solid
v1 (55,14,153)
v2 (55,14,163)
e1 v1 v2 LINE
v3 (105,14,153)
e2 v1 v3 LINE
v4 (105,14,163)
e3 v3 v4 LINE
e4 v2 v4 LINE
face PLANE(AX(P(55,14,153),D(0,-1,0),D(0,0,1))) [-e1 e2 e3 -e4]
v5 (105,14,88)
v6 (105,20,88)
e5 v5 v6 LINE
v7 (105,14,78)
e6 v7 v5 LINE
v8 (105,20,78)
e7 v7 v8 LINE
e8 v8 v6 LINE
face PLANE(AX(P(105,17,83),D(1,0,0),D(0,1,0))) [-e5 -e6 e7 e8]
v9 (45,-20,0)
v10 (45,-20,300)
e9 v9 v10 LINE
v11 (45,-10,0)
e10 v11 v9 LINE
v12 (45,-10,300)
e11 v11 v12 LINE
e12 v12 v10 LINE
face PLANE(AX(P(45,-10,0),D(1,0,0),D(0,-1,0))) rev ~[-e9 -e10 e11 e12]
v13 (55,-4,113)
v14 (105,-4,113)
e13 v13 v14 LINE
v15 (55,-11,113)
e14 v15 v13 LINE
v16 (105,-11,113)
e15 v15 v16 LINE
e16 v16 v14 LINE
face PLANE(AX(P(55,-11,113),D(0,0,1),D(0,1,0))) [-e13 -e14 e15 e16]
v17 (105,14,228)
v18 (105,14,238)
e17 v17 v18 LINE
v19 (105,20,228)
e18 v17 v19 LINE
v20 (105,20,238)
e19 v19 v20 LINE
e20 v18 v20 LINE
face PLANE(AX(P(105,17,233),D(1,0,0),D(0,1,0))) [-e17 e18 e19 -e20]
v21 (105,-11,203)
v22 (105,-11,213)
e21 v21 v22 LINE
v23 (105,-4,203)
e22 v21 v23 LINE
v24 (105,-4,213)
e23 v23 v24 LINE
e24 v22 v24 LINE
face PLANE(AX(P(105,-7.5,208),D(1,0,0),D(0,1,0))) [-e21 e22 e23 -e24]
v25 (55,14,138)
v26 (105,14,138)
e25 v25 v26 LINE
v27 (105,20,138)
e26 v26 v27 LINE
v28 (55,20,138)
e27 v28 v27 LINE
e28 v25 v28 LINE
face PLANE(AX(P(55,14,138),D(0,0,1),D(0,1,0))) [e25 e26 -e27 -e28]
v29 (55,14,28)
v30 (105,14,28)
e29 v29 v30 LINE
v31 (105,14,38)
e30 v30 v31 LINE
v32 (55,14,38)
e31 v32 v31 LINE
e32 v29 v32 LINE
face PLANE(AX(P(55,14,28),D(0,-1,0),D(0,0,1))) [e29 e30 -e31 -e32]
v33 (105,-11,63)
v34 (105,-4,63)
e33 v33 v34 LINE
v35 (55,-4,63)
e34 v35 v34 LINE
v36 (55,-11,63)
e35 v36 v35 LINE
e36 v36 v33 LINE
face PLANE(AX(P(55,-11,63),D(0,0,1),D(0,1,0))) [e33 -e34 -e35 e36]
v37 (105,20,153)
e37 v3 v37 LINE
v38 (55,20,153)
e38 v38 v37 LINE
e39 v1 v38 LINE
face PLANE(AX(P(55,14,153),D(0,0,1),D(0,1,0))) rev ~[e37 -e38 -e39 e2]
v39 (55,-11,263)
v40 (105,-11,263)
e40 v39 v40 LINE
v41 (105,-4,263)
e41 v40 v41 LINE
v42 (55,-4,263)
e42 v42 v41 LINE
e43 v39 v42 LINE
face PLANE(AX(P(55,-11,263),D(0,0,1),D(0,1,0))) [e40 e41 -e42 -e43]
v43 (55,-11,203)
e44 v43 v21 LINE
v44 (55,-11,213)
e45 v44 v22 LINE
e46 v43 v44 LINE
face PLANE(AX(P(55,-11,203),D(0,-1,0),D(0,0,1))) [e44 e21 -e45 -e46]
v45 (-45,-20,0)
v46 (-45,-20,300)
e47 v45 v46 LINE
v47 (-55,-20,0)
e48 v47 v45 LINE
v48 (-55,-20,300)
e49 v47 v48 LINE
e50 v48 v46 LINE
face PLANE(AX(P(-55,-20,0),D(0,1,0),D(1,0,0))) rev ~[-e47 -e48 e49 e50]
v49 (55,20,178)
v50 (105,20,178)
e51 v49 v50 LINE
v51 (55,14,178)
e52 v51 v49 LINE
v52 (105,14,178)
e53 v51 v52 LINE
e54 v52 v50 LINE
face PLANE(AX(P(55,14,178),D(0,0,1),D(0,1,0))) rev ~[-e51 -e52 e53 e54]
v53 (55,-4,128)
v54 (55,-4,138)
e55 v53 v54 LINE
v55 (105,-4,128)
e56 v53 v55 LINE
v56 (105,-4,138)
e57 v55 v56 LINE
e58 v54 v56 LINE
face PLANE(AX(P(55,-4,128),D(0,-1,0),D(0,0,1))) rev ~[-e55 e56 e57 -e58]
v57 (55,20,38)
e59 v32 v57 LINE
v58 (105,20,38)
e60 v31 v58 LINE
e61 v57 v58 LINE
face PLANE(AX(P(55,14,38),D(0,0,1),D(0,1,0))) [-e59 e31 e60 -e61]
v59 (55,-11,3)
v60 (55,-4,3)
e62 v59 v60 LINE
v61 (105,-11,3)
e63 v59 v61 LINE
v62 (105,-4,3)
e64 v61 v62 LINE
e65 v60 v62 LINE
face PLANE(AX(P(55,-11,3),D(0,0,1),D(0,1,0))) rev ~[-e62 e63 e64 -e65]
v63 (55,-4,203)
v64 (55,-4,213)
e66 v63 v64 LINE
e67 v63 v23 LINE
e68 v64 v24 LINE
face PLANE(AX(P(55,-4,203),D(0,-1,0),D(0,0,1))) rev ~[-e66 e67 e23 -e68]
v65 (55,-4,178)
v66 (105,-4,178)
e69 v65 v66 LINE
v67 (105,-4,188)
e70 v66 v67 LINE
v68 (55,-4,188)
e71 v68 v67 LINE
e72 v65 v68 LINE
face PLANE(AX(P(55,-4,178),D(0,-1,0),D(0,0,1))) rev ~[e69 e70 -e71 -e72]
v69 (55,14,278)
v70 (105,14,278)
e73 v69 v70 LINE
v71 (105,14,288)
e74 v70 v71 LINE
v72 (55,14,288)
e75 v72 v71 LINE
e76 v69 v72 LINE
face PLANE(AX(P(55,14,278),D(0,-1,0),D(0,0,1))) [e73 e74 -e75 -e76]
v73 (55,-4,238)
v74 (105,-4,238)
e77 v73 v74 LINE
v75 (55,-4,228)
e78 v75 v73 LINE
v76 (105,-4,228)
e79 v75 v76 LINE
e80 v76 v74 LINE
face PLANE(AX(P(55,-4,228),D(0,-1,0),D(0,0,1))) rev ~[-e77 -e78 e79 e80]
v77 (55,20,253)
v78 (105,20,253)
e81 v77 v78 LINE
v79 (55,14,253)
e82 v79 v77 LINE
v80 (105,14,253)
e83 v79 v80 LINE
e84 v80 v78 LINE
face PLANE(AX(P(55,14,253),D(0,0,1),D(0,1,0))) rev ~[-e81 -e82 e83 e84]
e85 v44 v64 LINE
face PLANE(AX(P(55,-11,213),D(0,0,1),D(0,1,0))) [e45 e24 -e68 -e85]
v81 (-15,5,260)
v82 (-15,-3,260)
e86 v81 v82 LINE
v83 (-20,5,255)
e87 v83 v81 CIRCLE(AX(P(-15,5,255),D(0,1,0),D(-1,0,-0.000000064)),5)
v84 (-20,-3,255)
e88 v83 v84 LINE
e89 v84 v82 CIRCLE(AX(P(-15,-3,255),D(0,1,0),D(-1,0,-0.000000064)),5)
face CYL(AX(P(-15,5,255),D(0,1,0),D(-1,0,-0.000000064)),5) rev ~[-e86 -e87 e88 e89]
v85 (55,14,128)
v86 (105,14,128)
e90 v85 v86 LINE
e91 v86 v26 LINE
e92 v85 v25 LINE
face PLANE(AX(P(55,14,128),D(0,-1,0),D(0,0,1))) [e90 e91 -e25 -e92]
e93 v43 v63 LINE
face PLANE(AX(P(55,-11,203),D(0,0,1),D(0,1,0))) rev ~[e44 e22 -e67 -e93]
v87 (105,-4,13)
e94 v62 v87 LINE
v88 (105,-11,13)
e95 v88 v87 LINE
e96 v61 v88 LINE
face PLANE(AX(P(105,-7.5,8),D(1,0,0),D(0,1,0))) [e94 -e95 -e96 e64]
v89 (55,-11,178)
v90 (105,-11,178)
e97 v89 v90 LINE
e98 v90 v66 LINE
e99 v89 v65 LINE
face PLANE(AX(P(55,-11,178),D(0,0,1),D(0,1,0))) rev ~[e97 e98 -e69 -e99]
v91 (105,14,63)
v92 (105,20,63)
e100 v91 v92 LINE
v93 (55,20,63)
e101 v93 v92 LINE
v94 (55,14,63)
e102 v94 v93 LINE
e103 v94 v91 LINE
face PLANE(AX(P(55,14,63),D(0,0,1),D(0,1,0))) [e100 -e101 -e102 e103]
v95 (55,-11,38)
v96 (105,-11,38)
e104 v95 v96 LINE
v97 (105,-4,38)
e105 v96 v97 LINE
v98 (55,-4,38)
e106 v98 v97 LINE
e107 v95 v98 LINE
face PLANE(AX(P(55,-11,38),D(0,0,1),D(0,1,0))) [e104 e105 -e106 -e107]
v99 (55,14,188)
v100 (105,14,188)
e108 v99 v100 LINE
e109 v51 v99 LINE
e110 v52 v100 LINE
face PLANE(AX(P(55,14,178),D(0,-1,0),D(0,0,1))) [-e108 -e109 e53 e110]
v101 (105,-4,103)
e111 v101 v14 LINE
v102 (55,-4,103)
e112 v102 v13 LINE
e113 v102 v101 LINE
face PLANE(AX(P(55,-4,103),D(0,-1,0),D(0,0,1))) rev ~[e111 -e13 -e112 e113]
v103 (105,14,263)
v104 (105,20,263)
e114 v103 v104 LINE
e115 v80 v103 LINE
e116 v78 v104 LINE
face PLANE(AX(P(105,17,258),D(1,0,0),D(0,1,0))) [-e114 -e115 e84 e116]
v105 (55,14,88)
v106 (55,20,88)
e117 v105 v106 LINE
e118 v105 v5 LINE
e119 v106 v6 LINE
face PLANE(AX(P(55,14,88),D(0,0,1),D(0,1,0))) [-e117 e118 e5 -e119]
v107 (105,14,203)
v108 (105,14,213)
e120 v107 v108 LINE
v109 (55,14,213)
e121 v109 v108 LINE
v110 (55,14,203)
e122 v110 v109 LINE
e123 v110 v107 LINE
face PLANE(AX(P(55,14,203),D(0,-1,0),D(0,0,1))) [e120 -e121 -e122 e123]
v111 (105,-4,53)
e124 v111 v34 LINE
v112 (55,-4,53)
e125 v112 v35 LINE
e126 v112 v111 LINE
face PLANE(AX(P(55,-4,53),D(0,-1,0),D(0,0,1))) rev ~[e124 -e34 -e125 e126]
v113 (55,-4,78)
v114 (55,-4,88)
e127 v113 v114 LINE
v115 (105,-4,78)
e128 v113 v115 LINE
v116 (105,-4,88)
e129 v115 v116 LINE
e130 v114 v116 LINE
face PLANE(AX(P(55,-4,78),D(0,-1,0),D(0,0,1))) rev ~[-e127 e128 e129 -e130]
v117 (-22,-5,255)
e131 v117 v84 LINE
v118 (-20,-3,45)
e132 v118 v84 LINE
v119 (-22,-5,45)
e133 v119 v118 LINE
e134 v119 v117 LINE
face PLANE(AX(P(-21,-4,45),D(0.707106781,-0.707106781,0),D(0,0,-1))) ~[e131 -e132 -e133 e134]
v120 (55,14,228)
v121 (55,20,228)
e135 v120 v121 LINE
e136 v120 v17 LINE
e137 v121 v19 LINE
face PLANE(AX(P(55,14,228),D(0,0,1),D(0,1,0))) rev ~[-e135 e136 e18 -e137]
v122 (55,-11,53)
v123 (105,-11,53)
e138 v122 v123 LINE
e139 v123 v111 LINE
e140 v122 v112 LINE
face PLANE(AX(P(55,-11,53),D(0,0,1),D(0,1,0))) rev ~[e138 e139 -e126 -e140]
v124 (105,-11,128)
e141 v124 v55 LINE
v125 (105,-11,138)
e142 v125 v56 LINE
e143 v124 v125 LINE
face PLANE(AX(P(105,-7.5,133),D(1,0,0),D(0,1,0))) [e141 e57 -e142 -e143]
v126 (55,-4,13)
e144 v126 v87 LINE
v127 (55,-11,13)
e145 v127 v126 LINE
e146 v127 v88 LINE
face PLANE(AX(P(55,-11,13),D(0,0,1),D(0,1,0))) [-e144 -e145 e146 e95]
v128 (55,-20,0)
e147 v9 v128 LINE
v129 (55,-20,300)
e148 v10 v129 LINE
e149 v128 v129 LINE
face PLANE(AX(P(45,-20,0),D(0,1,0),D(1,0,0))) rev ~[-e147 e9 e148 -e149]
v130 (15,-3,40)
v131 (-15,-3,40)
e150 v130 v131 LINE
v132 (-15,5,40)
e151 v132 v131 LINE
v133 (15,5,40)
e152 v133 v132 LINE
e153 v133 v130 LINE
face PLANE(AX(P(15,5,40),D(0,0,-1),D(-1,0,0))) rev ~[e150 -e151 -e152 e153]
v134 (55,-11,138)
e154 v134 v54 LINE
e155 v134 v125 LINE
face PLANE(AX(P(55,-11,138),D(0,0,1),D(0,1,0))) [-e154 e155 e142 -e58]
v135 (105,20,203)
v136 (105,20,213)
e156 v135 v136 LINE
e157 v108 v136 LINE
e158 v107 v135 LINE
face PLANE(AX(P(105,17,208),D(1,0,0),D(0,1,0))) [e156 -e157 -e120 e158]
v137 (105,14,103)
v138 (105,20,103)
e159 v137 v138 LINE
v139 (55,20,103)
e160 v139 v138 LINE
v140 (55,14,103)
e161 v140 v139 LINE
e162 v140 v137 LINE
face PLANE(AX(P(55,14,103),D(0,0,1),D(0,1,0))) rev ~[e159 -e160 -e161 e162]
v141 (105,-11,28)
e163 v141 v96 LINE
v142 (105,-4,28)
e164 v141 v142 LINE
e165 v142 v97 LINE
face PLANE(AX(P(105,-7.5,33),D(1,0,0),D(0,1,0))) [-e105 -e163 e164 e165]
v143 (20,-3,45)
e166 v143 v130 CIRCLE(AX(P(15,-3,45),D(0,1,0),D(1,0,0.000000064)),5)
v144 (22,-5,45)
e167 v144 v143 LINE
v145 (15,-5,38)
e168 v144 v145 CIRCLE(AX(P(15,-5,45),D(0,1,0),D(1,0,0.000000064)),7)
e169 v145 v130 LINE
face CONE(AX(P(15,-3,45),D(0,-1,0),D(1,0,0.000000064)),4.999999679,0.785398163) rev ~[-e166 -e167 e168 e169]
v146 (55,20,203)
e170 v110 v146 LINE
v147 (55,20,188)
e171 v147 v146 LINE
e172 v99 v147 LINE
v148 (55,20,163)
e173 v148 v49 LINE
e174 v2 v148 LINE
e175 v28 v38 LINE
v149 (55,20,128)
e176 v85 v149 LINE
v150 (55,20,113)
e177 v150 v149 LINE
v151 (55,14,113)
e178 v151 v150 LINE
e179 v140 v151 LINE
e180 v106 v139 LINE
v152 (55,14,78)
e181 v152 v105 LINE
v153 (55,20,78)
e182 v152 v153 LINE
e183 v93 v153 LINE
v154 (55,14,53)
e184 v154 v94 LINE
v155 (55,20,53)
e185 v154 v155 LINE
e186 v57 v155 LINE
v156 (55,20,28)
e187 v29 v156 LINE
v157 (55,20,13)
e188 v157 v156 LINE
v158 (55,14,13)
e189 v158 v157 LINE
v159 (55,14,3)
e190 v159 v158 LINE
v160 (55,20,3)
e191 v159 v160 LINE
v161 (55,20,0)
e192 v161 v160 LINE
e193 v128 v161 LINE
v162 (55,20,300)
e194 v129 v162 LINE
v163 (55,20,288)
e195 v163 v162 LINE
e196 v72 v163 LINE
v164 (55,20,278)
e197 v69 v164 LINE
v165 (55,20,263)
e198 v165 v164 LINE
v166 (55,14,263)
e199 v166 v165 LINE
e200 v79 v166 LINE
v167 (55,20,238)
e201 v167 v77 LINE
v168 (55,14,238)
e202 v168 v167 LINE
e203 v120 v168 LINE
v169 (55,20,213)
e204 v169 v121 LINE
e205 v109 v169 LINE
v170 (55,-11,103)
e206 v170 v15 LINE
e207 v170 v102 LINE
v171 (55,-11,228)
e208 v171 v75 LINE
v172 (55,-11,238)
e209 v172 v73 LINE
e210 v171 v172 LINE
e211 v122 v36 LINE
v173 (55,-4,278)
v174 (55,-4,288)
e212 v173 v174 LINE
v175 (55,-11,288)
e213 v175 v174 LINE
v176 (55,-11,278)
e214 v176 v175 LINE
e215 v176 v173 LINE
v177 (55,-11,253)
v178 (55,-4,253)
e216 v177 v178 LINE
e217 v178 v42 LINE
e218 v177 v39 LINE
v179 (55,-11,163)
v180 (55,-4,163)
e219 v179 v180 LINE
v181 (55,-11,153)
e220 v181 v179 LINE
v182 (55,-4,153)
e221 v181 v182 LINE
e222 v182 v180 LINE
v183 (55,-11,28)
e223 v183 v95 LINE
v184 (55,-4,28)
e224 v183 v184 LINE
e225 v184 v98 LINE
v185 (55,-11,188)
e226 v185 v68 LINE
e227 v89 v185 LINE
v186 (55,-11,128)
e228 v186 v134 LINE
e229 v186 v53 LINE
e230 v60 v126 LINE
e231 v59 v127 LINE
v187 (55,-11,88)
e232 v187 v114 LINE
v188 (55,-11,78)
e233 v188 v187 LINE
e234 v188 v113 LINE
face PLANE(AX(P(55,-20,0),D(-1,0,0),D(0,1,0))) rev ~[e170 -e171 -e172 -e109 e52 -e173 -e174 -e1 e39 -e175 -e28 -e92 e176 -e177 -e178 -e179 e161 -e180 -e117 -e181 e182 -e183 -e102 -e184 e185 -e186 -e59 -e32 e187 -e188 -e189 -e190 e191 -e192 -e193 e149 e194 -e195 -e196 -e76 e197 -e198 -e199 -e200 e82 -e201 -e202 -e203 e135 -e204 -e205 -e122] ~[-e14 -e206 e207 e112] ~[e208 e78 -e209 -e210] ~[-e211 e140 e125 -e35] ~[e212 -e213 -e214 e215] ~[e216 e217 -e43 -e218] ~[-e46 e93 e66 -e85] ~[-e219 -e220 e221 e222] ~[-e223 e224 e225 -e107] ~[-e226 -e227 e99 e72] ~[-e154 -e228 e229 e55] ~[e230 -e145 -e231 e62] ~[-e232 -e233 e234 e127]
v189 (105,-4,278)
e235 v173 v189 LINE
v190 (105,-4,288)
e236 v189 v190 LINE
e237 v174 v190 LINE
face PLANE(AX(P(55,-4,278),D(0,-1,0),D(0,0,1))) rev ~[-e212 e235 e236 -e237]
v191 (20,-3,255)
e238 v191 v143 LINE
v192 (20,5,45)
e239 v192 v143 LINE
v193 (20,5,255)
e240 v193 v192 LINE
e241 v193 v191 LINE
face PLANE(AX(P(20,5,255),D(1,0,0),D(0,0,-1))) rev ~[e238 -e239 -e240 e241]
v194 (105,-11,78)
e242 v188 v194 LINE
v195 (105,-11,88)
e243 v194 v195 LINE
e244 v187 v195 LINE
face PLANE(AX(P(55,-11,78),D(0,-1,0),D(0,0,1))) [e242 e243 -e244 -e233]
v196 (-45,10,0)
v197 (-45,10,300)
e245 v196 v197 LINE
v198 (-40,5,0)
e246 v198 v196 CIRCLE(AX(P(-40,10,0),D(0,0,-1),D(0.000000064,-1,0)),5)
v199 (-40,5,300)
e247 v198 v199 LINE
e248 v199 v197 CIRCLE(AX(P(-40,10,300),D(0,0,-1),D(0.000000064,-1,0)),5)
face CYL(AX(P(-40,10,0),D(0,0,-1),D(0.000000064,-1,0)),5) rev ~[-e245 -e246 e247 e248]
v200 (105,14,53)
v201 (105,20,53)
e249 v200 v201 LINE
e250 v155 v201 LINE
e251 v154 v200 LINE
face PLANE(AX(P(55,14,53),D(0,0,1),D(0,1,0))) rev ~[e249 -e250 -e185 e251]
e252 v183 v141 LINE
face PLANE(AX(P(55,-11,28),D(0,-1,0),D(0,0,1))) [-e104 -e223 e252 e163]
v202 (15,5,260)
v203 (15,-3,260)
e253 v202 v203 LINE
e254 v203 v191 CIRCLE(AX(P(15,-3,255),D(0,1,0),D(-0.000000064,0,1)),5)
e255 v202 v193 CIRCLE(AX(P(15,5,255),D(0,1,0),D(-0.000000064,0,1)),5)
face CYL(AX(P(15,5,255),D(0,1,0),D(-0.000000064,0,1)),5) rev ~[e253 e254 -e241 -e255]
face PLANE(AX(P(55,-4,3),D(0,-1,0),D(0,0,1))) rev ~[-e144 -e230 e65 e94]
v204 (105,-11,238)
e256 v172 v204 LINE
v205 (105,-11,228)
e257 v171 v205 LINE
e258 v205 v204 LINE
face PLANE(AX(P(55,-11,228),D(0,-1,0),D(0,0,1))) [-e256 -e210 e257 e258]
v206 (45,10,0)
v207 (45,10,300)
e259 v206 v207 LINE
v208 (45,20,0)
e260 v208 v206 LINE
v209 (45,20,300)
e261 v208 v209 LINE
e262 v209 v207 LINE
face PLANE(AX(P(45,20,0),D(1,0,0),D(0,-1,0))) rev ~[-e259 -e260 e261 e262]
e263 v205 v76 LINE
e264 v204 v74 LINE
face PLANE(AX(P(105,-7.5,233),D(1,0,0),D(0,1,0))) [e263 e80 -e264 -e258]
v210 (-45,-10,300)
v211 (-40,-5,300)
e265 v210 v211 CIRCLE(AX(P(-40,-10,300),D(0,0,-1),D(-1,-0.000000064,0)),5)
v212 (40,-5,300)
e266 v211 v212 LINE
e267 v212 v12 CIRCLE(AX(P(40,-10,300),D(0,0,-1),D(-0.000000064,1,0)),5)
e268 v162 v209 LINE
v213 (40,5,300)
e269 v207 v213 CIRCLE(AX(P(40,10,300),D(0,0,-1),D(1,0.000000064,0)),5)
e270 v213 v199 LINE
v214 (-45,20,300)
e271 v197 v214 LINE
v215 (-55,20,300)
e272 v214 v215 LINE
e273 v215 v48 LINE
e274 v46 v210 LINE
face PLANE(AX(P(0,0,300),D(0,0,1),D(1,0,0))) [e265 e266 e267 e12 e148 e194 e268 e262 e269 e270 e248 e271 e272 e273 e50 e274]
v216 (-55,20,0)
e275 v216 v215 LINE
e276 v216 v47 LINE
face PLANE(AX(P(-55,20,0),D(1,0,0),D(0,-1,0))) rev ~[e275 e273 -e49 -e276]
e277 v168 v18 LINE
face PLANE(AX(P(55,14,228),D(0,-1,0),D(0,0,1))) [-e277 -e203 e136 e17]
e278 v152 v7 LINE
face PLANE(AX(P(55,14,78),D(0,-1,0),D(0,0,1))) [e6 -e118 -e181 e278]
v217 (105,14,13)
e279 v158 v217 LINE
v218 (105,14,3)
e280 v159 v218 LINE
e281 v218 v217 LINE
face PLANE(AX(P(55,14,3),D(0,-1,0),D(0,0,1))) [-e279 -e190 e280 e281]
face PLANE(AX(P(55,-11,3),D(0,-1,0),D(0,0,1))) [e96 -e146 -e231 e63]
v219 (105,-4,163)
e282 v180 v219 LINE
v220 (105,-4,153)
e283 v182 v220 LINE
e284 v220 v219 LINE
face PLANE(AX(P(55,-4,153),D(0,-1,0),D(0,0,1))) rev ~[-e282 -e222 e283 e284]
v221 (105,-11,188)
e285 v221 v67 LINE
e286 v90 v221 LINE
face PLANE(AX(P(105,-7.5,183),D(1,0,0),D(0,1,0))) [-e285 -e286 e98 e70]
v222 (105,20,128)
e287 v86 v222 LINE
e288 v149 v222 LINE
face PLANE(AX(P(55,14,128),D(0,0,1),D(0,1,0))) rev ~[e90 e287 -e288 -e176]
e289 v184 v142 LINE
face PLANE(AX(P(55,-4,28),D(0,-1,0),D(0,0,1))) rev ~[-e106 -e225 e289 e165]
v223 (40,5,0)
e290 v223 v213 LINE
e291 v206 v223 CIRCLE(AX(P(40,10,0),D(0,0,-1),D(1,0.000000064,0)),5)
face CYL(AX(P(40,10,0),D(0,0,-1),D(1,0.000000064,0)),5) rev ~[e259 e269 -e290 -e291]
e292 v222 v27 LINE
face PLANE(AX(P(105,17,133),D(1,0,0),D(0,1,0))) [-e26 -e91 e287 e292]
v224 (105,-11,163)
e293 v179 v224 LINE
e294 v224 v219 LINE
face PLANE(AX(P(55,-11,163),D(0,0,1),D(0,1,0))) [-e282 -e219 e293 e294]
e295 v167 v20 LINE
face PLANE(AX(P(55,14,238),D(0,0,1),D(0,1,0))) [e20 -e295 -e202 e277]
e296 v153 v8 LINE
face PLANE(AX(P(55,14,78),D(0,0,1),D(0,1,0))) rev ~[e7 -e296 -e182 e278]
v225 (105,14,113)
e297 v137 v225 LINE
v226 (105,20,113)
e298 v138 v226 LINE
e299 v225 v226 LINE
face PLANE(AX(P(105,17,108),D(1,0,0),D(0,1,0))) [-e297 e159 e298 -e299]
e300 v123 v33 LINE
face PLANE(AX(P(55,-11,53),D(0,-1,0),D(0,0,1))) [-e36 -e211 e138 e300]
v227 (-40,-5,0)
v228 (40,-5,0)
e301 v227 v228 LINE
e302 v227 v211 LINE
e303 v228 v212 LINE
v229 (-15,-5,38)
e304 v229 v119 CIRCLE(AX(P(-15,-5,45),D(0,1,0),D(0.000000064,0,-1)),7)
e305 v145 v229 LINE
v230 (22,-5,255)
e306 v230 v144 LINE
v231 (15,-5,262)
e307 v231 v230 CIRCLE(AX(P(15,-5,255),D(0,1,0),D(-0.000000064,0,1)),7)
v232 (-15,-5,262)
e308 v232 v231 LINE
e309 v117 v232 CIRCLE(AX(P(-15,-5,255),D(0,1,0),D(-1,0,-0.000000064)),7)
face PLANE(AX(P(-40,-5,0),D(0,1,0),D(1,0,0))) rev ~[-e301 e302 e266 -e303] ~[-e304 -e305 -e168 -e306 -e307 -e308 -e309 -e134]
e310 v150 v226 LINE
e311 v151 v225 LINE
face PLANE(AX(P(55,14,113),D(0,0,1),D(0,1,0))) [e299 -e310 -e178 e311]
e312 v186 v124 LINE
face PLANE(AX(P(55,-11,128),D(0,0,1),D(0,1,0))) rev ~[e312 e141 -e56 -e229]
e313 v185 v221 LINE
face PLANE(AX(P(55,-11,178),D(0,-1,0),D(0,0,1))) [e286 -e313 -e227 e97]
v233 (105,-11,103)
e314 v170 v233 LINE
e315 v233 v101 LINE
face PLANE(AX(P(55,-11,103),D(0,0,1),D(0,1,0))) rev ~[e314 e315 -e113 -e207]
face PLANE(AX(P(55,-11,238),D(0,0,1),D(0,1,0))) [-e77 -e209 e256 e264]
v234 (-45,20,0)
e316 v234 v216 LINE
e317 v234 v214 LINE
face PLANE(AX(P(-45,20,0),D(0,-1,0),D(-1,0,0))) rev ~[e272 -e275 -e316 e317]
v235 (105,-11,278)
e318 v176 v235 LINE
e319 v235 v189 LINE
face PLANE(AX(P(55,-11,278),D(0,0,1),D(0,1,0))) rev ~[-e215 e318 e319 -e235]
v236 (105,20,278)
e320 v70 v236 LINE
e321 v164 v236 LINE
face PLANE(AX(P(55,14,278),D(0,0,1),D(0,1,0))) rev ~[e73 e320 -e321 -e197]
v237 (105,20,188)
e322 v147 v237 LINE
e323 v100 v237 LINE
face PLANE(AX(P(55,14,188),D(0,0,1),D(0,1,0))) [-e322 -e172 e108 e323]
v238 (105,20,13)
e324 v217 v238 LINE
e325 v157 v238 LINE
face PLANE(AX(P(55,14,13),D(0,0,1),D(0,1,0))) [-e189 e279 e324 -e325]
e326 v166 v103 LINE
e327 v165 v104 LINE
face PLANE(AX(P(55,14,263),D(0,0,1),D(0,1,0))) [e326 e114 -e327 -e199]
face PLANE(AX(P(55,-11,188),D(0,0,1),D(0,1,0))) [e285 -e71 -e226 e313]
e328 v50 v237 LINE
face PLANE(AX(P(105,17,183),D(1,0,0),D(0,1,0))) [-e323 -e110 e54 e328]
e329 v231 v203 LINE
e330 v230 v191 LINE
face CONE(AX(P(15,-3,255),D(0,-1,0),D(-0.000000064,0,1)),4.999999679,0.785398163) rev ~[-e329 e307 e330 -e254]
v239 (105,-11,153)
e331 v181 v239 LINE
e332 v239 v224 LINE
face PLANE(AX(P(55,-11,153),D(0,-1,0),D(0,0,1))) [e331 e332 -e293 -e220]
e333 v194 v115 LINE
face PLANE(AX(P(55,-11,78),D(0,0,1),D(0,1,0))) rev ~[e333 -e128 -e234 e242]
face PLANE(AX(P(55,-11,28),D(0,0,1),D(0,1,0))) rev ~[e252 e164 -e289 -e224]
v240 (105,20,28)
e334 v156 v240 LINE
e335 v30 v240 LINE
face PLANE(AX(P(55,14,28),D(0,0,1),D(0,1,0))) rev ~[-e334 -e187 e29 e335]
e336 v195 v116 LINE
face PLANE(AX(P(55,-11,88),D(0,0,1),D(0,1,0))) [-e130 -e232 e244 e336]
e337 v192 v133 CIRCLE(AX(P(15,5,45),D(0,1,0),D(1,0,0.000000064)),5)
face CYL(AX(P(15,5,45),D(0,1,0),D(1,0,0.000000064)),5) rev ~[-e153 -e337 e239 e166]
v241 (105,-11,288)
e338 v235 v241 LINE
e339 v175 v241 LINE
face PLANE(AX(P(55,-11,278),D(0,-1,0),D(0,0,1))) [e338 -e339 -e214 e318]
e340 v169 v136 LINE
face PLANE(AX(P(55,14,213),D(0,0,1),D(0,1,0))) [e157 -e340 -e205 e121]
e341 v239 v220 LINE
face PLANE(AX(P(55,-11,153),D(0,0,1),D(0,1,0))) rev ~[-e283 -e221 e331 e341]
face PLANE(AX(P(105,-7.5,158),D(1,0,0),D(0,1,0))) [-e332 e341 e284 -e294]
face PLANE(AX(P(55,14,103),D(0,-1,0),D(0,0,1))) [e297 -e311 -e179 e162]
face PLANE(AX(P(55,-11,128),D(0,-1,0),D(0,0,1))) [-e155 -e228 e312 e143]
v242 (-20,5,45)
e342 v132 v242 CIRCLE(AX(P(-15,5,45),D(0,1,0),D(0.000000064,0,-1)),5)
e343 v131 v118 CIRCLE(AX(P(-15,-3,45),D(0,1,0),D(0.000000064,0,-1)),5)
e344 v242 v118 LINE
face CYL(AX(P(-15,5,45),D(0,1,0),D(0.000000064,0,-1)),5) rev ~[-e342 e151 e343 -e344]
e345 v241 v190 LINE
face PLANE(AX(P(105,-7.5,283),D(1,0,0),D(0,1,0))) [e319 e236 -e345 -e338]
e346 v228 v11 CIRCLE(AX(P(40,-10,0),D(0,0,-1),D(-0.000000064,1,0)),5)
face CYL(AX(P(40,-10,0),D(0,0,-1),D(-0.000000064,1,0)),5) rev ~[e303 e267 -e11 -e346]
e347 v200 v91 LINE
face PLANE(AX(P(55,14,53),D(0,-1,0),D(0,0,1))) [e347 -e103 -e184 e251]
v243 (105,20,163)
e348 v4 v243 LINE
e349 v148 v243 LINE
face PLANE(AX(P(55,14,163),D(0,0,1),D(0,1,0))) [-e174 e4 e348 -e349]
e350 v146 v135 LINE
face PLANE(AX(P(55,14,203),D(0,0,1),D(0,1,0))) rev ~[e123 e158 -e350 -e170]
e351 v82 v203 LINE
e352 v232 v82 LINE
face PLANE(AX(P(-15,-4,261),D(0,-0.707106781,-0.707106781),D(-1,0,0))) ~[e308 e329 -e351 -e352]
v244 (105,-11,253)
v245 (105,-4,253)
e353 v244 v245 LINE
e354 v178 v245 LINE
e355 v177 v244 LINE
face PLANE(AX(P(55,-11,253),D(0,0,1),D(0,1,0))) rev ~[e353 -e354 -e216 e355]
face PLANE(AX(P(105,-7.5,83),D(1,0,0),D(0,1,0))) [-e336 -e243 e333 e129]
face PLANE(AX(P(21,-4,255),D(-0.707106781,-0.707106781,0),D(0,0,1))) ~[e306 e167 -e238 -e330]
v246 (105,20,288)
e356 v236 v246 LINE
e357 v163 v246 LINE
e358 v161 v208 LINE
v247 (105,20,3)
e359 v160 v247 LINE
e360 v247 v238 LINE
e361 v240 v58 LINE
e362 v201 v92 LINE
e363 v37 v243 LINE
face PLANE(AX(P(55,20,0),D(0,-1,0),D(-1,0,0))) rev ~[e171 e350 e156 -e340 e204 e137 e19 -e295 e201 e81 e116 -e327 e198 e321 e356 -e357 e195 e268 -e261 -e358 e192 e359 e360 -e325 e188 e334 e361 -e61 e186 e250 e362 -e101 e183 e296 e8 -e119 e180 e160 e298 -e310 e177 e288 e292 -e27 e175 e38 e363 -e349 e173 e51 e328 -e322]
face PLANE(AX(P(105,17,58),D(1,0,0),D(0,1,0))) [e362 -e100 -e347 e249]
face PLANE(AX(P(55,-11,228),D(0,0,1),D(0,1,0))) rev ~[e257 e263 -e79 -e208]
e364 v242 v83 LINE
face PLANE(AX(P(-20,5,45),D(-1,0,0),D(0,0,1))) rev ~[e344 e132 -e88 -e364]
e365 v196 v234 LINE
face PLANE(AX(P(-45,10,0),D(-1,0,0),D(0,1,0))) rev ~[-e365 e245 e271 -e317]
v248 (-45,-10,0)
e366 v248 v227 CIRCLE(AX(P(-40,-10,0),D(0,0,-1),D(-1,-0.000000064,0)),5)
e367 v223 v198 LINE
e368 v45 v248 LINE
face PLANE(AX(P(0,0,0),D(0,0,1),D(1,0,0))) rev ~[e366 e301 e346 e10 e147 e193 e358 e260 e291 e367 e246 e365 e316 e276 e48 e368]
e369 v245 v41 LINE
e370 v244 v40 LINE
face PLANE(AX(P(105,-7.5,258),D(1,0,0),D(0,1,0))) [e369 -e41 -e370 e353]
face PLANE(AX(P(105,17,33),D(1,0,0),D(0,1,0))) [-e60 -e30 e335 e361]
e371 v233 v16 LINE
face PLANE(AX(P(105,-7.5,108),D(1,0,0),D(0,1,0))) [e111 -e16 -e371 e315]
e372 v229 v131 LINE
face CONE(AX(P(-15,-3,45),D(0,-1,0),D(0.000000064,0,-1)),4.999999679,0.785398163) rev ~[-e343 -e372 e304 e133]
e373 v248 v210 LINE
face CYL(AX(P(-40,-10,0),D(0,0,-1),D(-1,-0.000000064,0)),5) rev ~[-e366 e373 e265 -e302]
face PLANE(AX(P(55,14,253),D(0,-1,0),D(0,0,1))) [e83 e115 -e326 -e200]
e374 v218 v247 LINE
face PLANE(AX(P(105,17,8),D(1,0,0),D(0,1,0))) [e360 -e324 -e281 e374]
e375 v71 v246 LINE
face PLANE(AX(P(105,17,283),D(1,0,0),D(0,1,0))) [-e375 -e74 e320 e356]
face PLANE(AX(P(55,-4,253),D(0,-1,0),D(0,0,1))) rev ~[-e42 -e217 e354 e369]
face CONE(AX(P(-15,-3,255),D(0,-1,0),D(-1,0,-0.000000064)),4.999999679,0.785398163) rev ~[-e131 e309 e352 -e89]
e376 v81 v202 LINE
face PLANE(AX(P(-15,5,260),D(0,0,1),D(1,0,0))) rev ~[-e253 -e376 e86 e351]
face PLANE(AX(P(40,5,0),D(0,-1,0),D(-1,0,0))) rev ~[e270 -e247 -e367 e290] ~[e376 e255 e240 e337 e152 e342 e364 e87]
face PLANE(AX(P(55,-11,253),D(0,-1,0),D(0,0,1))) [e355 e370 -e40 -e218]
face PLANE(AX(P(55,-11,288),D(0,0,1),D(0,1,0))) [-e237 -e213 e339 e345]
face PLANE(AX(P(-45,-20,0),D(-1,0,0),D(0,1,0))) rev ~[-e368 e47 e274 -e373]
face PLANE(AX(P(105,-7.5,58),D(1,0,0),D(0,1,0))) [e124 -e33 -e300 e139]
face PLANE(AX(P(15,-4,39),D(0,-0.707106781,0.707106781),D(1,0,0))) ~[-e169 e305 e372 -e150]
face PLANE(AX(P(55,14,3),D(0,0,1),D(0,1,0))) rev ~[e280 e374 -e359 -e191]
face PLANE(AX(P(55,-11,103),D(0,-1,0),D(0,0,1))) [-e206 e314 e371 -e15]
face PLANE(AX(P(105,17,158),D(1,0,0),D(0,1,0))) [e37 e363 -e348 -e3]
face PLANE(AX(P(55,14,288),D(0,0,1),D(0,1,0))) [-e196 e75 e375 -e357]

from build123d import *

# Parameters (mm, degrees)
F1_DEPTH = 300
F3_DEPTH = 25
F4_SIZE  = 2
F5_W     = 7
F5_H     = 10
F5_W_2   = 6
F6_DEPTH = 50


with BuildPart() as f1:
    # F0 (on Top) → F1 (new body)
    with BuildSketch(Plane.XY):
        with BuildLine():
            Line((-40, -5), (0, -5))
            Line((0, -5), (40, -5))
            ThreePointArc((40, -5), (43.535534, -6.464466), (45, -10))
            Line((45, -10), (45, -20))
            Line((45, -20), (55, -20))
            Line((55, -20), (55, 20))
            Line((55, 20), (45, 20))
            Line((45, 20), (45, 10))
            ThreePointArc((45, 10), (43.535534, 6.464466), (40, 5))
            Line((40, 5), (0, 5))
            Line((0, 5), (-40, 5))
            ThreePointArc((-40, 5), (-43.535534, 6.464466), (-45, 10))
            Line((-45, 10), (-45, 20))
            Line((-45, 20), (-55, 20))
            Line((-55, 20), (-55, -20))
            Line((-55, -20), (-45, -20))
            Line((-45, -20), (-45, -10))
            ThreePointArc((-45, -10), (-43.535534, -6.464466), (-40, -5))
        make_face()
    extrude(amount=F1_DEPTH)

    # F2 (on face) → F3 (cut)
    with BuildSketch(Plane(origin=(0, 5, 0), x_dir=(-1, 0, 0), z_dir=(0, 1, 0))):
        with BuildLine():
            ThreePointArc((-20, 45), (-18.535534, 41.464466), (-15, 40))
            Line((-15, 40), (15, 40))
            ThreePointArc((15, 40), (18.535534, 41.464466), (20, 45))
            Line((20, 45), (20, 255))
            ThreePointArc((20, 255), (18.535534, 258.535534), (15, 260))
            Line((15, 260), (-15, 260))
            ThreePointArc((-15, 260), (-18.535534, 258.535534), (-20, 255))
            Line((-20, 255), (-20, 45))
        make_face()
    extrude(amount=-F3_DEPTH, mode=Mode.SUBTRACT)

    # F4
    f4_edges = [f1.edges().sort_by_distance(p)[0] for p in [
        (0, -5, 260),
    ]]
    chamfer(f4_edges, length=F4_SIZE)

    # F5 (on face) → F6 (join)
    with BuildSketch(Plane.YZ.offset(55)):
        with Locations((-7.5, 283)):
            Rectangle(F5_W, F5_H)
        with Locations((17, 283)):
            Rectangle(F5_W_2, F5_H)
        with Locations((-7.5, 258)):
            Rectangle(F5_W, F5_H)
        with Locations((17, 258)):
            Rectangle(F5_W_2, F5_H)
        with Locations((-7.5, 233)):
            Rectangle(F5_W, F5_H)
        with Locations((17, 233)):
            Rectangle(F5_W_2, F5_H)
        with Locations((-7.5, 208)):
            Rectangle(F5_W, F5_H)
        with Locations((17, 208)):
            Rectangle(F5_W_2, F5_H)
        with Locations((-7.5, 183)):
            Rectangle(F5_W, F5_H)
        with Locations((17, 183)):
            Rectangle(F5_W_2, F5_H)
        with Locations((-7.5, 158)):
            Rectangle(F5_W, F5_H)
        with Locations((17, 158)):
            Rectangle(F5_W_2, F5_H)
        with Locations((-7.5, 133)):
            Rectangle(F5_W, F5_H)
        with Locations((17, 133)):
            Rectangle(F5_W_2, F5_H)
        with Locations((-7.5, 108)):
            Rectangle(F5_W, F5_H)
        with Locations((17, 108)):
            Rectangle(F5_W_2, F5_H)
        with Locations((-7.5, 83)):
            Rectangle(F5_W, F5_H)
        with Locations((17, 83)):
            Rectangle(F5_W_2, F5_H)
        with Locations((-7.5, 58)):
            Rectangle(F5_W, F5_H)
        with Locations((17, 58)):
            Rectangle(F5_W_2, F5_H)
        with Locations((-7.5, 33)):
            Rectangle(F5_W, F5_H)
        with Locations((17, 33)):
            Rectangle(F5_W_2, F5_H)
        with Locations((-7.5, 8)):
            Rectangle(F5_W, F5_H)
        with Locations((17, 8)):
            Rectangle(F5_W_2, F5_H)
    extrude(amount=F6_DEPTH)


solid = f1.part
